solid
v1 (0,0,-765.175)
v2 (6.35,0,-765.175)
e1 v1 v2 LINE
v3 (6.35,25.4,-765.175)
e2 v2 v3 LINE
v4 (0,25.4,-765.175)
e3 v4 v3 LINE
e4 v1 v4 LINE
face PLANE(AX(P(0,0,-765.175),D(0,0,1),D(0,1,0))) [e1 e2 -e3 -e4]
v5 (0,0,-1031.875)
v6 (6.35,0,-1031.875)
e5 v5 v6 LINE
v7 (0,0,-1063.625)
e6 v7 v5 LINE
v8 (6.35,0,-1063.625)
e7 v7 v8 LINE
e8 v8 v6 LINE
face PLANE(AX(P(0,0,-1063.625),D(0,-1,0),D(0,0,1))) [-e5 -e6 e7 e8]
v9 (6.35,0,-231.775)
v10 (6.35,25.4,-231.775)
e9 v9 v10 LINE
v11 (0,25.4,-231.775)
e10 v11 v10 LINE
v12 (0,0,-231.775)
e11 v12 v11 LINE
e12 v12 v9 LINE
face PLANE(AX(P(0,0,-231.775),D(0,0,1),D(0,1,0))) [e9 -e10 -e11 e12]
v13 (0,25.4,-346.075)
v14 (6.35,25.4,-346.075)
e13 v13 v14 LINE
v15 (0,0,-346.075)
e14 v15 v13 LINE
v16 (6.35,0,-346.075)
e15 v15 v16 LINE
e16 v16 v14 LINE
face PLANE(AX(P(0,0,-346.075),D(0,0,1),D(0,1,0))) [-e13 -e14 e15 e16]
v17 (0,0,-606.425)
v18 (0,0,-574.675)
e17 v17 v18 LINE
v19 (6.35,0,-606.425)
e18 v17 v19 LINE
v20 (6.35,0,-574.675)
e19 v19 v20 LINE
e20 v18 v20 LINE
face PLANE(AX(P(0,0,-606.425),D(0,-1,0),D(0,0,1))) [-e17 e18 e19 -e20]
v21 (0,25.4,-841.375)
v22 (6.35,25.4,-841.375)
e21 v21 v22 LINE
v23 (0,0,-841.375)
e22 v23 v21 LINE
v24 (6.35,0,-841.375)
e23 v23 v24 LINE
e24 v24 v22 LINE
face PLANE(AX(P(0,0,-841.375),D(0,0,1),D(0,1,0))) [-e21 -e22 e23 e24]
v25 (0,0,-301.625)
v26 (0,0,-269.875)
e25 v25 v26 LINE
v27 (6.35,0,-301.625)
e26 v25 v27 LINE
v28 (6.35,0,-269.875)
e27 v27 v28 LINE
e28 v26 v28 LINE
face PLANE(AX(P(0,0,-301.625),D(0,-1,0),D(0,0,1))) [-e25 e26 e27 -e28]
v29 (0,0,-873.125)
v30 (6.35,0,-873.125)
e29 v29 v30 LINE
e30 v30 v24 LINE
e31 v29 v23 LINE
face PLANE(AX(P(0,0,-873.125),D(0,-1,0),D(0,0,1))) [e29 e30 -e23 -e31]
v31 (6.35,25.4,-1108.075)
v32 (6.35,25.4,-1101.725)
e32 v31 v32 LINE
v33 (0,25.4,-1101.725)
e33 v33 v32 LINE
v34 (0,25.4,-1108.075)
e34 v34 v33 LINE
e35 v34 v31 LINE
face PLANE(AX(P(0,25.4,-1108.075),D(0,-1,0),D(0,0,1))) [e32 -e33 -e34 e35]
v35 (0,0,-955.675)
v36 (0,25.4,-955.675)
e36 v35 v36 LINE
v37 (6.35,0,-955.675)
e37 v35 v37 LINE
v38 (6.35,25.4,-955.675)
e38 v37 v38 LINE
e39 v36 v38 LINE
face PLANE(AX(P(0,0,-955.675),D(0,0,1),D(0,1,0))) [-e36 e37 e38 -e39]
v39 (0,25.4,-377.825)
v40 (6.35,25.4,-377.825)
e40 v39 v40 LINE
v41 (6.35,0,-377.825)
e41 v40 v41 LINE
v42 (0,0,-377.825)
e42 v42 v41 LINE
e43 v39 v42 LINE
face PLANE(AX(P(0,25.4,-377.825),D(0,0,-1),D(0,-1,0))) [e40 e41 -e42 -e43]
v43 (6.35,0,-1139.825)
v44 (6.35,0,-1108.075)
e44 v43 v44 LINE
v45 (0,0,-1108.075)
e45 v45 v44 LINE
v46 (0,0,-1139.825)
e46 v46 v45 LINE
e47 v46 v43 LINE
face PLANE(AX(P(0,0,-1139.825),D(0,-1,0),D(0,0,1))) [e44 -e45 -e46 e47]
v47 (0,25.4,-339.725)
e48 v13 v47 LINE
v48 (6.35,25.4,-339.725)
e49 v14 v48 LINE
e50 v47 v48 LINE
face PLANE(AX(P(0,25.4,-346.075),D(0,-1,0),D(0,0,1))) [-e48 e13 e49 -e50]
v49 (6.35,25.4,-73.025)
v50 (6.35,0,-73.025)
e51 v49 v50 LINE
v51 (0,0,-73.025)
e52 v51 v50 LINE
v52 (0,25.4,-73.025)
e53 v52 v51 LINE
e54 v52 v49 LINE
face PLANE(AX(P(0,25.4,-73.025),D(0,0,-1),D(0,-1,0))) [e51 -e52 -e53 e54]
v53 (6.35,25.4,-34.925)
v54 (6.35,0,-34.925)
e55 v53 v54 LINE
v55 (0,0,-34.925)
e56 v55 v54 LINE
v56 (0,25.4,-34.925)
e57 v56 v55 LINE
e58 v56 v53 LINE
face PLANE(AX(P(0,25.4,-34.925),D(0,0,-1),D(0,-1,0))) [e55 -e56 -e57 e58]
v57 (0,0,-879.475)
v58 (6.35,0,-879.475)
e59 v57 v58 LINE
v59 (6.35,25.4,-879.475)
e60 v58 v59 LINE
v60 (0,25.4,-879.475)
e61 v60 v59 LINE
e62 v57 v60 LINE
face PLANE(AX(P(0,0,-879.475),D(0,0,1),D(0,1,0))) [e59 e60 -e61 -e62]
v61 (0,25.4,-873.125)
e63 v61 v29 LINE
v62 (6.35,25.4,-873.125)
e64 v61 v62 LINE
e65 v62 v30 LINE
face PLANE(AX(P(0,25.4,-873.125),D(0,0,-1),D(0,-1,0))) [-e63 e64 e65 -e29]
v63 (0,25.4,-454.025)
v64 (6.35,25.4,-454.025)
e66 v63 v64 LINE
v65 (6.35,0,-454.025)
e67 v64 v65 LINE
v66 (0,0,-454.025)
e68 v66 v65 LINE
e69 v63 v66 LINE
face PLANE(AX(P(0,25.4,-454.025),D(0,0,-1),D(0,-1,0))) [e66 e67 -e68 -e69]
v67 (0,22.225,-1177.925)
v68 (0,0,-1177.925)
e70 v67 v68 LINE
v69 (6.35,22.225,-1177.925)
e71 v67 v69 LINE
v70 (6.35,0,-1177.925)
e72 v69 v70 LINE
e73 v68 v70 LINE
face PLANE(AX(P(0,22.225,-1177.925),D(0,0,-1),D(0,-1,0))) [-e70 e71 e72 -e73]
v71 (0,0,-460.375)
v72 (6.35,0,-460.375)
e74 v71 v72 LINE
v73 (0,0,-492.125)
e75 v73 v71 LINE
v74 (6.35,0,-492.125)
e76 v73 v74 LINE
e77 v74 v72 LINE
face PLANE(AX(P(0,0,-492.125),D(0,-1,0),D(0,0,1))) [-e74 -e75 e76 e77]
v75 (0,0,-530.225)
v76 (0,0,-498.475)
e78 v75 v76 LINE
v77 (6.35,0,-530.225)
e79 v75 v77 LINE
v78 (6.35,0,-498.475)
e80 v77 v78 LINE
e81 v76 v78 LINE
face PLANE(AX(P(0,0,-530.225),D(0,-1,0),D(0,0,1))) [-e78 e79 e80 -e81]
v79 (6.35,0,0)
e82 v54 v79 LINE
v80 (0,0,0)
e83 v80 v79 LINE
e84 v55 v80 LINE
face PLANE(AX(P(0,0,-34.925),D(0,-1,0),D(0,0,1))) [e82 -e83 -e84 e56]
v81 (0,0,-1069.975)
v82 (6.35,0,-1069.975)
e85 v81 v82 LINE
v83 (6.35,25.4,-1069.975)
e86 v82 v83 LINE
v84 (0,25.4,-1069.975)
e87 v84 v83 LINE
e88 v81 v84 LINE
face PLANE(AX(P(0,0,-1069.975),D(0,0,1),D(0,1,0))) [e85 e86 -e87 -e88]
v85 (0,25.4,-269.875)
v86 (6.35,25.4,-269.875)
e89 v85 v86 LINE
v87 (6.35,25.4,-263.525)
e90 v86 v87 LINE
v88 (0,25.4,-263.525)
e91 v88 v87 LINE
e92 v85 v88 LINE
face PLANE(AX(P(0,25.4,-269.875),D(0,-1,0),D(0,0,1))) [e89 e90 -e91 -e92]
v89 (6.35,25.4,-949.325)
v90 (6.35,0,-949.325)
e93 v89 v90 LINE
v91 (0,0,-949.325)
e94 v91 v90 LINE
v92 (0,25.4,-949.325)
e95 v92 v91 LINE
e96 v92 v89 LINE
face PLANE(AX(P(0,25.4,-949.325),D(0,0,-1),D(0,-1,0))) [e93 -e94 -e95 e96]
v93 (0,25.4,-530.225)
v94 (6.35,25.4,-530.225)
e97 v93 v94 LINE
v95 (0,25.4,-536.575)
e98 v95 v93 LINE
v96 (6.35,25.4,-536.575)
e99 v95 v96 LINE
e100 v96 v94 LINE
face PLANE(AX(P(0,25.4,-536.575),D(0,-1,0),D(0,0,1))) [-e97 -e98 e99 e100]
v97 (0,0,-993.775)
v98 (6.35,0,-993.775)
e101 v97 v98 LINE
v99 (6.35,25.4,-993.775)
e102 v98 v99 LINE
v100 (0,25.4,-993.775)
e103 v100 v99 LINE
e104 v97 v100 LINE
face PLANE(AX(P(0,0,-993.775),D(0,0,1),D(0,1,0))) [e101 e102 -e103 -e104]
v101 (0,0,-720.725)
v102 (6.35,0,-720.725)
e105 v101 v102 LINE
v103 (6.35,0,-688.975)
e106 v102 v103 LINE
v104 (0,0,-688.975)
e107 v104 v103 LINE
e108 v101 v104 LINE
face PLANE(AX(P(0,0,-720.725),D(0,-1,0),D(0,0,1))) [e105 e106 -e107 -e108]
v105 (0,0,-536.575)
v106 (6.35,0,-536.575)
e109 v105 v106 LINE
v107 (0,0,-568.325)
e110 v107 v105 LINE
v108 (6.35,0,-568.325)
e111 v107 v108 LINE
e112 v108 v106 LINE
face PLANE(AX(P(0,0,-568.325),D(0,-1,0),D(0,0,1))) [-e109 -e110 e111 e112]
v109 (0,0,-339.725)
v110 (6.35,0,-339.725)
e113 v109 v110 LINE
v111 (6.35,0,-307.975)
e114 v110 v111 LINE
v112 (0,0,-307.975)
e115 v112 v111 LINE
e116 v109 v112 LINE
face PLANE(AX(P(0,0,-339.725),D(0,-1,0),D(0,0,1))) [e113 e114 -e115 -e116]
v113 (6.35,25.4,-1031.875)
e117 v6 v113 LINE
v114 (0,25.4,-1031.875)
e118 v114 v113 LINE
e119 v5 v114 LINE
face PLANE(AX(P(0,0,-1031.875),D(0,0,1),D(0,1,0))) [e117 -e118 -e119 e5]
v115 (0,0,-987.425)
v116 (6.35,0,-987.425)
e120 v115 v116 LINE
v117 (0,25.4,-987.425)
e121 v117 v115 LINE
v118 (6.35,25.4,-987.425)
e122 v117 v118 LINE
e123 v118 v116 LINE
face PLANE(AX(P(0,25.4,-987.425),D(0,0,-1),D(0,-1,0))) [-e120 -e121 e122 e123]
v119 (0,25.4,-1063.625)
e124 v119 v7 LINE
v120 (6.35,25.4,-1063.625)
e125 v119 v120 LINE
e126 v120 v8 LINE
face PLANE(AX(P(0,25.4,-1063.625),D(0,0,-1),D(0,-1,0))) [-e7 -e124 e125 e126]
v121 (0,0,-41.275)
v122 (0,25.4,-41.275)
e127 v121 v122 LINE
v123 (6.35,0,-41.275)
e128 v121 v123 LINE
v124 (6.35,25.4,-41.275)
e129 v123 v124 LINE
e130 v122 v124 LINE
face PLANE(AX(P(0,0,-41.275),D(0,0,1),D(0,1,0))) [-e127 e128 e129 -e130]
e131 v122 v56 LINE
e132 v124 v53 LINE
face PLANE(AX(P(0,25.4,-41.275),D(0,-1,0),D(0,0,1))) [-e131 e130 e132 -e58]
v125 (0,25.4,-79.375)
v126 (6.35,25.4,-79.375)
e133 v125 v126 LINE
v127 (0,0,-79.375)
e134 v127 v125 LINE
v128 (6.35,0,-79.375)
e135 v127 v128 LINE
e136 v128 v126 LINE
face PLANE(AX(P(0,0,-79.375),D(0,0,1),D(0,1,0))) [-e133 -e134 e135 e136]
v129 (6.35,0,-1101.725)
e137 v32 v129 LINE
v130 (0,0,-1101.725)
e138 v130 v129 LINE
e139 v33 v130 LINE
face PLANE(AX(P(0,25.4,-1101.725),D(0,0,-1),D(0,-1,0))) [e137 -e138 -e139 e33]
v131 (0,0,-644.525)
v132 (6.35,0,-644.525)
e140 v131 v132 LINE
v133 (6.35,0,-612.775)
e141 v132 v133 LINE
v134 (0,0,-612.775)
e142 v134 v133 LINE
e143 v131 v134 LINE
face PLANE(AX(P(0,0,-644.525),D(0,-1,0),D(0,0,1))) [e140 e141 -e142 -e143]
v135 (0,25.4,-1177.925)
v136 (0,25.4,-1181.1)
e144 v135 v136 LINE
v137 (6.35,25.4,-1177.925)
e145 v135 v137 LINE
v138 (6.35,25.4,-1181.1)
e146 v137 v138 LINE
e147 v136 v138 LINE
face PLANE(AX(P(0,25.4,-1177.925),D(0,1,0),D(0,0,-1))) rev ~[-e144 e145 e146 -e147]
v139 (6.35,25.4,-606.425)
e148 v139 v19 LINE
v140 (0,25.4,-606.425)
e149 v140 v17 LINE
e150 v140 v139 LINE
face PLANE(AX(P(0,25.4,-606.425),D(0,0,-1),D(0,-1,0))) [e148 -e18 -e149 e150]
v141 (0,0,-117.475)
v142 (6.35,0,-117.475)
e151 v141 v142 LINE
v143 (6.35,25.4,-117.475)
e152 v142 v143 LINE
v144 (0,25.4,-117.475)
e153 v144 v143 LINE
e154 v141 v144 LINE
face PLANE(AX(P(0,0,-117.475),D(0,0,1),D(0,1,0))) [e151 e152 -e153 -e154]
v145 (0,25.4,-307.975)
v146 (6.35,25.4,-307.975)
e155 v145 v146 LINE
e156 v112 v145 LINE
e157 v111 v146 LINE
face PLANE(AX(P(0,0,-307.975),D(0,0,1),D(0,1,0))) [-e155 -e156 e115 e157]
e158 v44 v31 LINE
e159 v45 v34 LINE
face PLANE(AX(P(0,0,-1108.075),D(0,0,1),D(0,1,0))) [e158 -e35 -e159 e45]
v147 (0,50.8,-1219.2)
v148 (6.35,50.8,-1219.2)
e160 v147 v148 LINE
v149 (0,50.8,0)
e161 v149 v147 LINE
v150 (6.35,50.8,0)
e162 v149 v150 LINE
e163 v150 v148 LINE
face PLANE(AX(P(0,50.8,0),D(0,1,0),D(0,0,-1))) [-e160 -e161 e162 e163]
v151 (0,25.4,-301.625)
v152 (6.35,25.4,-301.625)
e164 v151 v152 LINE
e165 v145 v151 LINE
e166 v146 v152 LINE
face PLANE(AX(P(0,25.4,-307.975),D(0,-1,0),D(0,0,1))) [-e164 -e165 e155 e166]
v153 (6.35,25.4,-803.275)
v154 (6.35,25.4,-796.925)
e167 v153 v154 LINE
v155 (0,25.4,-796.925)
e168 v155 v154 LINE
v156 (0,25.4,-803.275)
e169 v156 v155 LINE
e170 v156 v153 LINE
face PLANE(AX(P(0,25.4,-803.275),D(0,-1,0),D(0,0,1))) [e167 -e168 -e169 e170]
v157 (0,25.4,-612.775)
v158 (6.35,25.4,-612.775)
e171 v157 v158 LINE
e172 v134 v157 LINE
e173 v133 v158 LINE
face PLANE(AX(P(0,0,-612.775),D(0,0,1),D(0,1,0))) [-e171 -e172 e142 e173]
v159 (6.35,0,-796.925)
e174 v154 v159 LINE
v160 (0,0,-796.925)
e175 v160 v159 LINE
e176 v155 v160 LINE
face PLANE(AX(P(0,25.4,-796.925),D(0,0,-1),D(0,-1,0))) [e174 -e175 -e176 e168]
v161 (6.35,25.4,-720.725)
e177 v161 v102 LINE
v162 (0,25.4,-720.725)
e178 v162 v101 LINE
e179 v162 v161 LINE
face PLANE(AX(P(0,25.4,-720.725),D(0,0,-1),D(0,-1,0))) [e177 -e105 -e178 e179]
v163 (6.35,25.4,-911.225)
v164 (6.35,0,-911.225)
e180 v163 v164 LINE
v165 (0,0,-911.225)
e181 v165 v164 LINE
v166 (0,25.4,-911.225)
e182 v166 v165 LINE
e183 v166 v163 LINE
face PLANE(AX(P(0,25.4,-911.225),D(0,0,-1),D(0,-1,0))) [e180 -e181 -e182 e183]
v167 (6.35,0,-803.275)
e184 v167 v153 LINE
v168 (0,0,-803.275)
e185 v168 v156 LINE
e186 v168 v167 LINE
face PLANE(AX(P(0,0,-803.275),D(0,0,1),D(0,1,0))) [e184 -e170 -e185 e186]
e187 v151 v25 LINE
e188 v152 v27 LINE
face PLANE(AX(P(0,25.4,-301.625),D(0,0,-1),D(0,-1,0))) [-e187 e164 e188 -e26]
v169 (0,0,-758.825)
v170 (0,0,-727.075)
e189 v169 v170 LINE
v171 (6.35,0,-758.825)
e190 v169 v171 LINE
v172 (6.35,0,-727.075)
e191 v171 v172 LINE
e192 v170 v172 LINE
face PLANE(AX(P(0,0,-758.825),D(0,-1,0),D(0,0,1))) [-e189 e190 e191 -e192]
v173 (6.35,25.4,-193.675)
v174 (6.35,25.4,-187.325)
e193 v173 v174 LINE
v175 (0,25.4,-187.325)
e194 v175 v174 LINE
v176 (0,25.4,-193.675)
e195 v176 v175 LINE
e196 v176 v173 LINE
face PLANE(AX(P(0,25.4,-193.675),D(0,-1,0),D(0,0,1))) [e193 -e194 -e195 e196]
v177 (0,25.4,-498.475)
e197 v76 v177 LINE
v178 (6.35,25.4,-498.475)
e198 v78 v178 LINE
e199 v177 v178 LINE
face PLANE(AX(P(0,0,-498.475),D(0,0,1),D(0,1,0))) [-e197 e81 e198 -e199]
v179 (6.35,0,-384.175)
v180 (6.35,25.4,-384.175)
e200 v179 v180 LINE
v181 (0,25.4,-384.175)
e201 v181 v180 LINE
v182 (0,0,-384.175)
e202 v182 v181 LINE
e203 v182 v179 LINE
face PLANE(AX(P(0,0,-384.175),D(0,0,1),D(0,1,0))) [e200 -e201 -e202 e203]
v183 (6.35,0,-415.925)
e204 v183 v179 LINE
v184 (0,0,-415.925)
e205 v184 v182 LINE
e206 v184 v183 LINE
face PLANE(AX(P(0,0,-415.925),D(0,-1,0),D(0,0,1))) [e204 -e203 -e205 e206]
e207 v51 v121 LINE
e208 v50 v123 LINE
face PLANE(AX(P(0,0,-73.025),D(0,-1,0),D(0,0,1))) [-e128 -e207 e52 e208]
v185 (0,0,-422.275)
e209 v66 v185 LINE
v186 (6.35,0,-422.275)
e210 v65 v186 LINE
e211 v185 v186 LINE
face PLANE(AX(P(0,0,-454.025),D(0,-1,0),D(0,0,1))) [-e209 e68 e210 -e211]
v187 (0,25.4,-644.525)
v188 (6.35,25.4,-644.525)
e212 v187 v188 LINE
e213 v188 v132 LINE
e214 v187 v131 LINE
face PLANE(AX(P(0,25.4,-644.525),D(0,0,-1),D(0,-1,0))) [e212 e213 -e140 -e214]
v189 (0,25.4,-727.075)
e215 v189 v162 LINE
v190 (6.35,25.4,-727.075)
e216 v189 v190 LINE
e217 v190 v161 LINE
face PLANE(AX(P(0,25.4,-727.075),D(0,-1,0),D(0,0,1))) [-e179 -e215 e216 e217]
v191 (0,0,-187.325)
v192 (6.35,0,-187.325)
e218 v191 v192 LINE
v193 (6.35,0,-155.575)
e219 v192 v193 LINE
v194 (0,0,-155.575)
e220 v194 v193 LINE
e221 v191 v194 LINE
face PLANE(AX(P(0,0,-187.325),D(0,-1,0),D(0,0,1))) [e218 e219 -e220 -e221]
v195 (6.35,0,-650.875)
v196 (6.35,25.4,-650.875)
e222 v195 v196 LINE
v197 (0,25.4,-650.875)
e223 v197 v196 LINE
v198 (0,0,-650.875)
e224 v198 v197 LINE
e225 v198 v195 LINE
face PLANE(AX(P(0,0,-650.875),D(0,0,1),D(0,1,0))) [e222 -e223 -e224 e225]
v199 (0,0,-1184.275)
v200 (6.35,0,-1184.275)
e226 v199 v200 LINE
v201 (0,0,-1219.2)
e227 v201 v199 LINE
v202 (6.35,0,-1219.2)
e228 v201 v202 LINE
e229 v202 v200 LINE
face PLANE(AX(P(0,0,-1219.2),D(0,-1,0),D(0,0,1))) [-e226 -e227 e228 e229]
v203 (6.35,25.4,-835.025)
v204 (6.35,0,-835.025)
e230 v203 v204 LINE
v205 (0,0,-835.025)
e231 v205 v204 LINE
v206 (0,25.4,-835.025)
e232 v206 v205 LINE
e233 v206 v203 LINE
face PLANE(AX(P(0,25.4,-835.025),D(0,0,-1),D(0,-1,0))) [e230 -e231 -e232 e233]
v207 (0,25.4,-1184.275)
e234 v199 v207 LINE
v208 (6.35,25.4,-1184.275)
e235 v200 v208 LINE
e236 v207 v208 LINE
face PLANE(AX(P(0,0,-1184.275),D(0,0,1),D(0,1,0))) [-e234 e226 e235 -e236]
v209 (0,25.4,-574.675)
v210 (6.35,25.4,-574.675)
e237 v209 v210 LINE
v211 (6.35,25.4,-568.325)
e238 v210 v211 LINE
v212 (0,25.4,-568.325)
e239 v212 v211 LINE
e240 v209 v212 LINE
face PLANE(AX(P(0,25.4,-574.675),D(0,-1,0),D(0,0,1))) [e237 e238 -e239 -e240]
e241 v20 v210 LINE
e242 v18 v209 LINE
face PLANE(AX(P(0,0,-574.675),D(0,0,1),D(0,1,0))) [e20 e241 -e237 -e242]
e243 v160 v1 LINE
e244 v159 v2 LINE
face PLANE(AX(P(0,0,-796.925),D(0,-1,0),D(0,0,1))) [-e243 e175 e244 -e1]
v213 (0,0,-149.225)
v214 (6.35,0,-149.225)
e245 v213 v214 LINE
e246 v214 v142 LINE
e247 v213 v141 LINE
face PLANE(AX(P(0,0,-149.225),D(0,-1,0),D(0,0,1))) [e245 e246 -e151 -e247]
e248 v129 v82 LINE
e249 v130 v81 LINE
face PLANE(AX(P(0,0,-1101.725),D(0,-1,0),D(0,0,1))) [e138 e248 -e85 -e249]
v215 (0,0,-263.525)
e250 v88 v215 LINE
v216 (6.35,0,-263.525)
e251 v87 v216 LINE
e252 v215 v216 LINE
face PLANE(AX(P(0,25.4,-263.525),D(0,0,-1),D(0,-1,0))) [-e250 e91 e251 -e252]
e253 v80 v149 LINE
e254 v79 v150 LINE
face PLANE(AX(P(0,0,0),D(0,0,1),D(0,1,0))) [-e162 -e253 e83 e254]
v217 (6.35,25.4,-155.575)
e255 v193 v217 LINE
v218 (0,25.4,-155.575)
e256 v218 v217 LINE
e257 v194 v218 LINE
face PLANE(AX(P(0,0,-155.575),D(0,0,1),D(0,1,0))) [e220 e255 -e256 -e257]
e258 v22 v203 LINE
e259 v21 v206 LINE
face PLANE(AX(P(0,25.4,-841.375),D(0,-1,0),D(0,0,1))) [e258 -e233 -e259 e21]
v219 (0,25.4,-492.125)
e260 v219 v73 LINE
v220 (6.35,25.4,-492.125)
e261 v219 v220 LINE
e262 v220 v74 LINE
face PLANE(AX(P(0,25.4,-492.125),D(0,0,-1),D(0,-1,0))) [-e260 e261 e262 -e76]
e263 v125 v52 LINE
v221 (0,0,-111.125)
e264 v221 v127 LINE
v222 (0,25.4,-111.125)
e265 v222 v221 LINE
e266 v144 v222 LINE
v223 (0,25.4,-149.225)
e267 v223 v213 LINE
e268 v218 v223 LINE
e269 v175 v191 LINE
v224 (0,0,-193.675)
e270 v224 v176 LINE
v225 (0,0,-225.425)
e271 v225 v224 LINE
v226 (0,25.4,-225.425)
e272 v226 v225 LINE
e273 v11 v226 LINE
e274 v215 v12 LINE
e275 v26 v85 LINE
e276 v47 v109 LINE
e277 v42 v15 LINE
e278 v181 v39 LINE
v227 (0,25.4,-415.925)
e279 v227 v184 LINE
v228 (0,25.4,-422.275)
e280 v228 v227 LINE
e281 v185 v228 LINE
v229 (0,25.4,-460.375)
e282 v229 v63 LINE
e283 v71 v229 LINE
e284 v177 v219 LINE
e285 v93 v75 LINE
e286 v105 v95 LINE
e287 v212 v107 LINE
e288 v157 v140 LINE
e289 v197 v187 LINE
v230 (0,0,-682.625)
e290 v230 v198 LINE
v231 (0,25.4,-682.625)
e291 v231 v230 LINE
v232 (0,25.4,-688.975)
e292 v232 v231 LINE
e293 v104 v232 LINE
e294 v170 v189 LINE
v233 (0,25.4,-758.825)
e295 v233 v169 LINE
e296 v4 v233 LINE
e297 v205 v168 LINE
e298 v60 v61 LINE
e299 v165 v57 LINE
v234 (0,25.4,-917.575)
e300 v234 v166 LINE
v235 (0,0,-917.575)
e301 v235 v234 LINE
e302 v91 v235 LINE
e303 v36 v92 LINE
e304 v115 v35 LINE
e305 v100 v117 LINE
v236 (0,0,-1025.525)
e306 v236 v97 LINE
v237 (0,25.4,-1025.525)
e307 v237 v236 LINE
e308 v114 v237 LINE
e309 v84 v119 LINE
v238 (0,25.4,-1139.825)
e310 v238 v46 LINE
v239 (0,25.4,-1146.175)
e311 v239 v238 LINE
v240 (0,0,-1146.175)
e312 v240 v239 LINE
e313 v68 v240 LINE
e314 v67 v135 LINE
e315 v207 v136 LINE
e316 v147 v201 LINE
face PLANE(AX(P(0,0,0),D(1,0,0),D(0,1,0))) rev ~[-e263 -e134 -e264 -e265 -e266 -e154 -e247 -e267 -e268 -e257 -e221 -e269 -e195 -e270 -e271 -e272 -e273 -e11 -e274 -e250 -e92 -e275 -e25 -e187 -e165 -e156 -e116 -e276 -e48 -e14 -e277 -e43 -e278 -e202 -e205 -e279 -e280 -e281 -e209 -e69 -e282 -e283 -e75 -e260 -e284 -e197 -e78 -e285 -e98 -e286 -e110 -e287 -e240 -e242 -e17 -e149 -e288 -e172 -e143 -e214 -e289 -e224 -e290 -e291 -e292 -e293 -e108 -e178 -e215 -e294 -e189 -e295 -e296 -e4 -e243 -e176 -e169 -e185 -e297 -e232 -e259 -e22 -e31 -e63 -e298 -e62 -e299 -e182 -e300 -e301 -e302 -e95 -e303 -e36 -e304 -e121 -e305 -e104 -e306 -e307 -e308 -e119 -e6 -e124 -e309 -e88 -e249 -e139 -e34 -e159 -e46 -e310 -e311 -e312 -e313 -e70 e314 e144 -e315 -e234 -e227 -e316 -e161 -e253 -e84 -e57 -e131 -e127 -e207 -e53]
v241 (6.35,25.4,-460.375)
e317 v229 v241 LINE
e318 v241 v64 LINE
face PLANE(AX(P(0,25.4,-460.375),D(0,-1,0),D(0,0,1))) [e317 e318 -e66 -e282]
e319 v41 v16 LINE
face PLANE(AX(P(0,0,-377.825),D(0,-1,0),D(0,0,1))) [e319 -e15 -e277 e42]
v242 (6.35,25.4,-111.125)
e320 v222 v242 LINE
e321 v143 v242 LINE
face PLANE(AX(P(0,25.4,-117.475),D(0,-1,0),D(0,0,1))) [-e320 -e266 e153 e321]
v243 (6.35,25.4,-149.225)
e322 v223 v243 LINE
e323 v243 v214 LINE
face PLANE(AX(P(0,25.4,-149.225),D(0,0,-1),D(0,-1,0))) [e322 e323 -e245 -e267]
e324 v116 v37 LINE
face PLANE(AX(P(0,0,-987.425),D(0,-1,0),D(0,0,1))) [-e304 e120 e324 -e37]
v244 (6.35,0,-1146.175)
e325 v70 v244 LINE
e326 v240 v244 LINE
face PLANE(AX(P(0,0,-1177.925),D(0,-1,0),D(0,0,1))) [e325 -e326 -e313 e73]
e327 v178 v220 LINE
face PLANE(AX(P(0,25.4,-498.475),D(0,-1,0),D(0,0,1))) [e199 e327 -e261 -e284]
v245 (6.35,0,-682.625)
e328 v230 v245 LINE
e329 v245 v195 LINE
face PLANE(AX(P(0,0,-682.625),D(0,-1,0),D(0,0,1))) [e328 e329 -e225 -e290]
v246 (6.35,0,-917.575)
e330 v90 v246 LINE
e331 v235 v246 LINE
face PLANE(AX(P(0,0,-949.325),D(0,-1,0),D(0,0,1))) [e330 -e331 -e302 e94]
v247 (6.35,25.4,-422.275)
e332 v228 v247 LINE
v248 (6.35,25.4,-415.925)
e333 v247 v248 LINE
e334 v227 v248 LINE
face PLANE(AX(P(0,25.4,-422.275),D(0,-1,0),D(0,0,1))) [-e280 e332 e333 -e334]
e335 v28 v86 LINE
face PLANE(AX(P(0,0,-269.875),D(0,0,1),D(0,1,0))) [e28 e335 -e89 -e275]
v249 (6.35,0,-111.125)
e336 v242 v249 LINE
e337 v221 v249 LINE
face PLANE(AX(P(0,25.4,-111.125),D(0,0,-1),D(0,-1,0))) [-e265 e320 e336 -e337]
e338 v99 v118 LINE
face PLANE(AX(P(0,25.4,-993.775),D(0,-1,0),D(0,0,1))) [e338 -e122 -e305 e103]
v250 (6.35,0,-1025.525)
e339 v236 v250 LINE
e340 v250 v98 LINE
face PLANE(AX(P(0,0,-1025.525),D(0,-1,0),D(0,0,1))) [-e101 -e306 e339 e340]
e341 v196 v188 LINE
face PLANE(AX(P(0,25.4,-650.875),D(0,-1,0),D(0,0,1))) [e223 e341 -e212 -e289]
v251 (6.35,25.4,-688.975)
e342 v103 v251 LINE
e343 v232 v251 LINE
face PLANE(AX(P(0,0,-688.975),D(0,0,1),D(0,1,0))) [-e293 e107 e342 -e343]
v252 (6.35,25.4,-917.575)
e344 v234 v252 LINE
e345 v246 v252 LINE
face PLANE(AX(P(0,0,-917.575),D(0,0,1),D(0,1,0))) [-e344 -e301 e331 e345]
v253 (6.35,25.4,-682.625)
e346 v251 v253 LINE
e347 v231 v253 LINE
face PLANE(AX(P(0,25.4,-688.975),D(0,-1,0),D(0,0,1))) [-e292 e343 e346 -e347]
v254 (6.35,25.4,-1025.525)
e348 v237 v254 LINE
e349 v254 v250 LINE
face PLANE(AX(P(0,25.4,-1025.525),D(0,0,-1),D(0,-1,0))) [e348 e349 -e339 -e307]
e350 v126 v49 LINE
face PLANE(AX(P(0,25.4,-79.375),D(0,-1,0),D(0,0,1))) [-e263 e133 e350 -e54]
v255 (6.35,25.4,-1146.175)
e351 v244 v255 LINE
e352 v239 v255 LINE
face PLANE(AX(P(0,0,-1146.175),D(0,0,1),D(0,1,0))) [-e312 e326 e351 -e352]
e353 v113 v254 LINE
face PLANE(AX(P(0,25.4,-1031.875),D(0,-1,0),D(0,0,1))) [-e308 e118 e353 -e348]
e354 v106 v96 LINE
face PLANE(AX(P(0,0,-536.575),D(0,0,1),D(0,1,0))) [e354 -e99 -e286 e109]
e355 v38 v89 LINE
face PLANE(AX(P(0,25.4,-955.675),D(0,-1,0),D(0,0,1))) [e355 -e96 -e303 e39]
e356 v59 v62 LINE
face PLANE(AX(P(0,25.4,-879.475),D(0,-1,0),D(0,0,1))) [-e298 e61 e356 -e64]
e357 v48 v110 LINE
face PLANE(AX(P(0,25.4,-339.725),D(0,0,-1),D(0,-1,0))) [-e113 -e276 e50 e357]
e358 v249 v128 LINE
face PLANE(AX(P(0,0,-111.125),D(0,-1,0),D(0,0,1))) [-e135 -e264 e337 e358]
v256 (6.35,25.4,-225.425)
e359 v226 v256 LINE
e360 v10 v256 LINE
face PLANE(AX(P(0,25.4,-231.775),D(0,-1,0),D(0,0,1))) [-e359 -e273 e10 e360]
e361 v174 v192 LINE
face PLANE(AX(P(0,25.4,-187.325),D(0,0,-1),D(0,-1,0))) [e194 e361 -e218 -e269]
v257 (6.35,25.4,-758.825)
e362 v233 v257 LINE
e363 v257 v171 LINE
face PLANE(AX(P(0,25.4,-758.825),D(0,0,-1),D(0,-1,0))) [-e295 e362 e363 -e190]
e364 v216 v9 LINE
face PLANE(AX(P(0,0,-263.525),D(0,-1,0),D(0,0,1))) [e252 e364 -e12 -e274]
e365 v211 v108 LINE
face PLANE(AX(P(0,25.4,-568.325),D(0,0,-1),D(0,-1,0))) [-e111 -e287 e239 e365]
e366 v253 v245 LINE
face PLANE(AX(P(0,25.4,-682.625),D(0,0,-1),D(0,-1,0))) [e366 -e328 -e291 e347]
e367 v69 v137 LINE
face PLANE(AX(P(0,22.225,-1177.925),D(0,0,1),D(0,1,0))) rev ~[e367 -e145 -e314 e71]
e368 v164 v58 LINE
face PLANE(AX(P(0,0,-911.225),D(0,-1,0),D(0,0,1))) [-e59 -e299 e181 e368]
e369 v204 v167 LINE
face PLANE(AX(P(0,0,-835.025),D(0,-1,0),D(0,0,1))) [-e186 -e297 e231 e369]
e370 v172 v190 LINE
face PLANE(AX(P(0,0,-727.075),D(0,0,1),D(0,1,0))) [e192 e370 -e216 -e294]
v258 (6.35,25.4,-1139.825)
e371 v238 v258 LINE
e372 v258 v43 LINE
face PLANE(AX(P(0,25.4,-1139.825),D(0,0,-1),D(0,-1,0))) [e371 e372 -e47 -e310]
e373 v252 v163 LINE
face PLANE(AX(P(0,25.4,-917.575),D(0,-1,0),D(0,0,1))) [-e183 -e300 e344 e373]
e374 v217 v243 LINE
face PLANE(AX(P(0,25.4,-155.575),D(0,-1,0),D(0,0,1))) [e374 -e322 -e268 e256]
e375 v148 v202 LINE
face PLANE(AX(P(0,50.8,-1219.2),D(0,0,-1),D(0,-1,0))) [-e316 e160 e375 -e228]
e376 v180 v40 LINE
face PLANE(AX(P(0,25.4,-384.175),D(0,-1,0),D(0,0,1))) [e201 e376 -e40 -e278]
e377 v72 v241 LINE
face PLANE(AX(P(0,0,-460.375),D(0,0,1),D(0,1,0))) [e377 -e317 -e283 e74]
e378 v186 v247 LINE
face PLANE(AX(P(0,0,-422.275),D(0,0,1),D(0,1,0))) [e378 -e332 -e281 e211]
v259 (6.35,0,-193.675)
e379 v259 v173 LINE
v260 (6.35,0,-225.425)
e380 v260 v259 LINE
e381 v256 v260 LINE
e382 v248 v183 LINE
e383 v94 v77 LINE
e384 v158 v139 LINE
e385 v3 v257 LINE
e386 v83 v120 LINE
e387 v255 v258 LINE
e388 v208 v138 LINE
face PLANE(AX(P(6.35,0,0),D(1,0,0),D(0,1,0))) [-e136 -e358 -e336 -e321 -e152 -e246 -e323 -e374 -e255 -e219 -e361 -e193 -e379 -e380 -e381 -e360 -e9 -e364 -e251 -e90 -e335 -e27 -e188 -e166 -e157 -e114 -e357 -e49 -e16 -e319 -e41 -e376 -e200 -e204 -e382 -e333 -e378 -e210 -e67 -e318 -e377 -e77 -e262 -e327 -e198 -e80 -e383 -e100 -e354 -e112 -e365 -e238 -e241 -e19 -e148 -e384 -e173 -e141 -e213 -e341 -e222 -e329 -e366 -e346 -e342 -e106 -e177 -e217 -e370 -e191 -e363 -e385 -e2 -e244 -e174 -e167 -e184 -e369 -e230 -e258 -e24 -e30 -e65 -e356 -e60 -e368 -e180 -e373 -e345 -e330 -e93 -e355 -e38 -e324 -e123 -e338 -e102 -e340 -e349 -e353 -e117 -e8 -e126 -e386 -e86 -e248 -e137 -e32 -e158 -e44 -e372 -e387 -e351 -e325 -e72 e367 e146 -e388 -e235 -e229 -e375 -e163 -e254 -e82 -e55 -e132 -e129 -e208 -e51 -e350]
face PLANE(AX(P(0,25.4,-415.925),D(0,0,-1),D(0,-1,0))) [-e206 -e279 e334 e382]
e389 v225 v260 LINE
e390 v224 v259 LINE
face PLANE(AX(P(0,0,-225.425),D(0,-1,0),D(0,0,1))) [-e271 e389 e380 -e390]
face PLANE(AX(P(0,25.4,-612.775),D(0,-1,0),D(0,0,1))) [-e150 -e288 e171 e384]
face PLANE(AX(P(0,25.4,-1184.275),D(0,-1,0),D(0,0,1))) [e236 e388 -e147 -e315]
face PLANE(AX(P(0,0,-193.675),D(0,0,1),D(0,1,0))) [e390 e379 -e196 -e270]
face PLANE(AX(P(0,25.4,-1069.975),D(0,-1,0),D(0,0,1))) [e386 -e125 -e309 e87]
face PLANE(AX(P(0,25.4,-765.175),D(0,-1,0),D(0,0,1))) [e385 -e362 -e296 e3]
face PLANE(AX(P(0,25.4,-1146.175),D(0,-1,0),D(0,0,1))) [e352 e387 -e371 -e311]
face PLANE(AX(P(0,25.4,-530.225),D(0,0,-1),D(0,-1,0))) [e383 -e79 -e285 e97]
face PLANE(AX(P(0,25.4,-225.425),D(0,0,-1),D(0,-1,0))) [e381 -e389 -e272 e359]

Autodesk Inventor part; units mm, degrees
ref_plane "YZ Plane" through (0, 0, 0) normal (1, 0, 0) x (0, 1, 0)
ref_plane "XZ Plane" through (0, 0, 0) normal (0, 1, 0) x (-1, 0, 0)
ref_plane "XY Plane" through (0, 0, 0) normal (0, 0, 1) x (1, 0, 0)
sketch "Sketch1" plane through (0, 0, 0) normal (1, 0, 0) x (0, 1, 0)
  line L0 (0, 0) -> (50.8, 0)
  line L1 (50.8, 0) -> (50.8, -1219.2)
  line L2 (50.8, -1219.2) -> (0, -1219.2)
  line L3 (0, -1219.2) -> (0, -1184.275)
  line L4 (0, -1184.275) -> (25.4, -1184.275)
  line L5 (25.4, -1184.275) -> (25.4, -1181.1)
  line L6 (22.225, -1177.925) -> (0, -1177.925)
  line L7 (0, -1177.925) -> (0, -1146.175)
  line L8 (0, -1146.175) -> (25.4, -1146.175)
  line L9 (25.4, -1146.175) -> (25.4, -1139.825)
  line L10 (25.4, -1139.825) -> (0, -1139.825)
  line L11 (0, -1139.825) -> (0, -1108.075)
  line L12 (0, -1108.075) -> (25.4, -1108.075)
  line L13 (25.4, -1108.075) -> (25.4, -1101.725)
  line L14 (25.4, -1101.725) -> (0, -1101.725)
  line L15 (0, -1101.725) -> (0, -1069.975)
  line L16 (0, -1069.975) -> (25.4, -1069.975)
  line L17 (25.4, -1069.975) -> (25.4, -1063.625)
  line L18 (25.4, -1063.625) -> (0, -1063.625)
  line L19 (0, -1063.625) -> (0, -1031.875)
  line L20 (0, -1031.875) -> (25.4, -1031.875)
  line L21 (25.4, -1031.875) -> (25.4, -1025.525)
  line L22 (25.4, -1025.525) -> (0, -1025.525)
  line L23 (0, -1025.525) -> (0, -993.775)
  line L24 (0, -993.775) -> (25.4, -993.775)
  line L25 (25.4, -993.775) -> (25.4, -987.425)
  line L26 (25.4, -987.425) -> (0, -987.425)
  line L27 (0, -987.425) -> (0, -955.675)
  line L28 (0, -955.675) -> (25.4, -955.675)
  line L29 (25.4, -955.675) -> (25.4, -949.325)
  line L30 (25.4, -949.325) -> (0, -949.325)
  line L31 (0, -949.325) -> (0, -917.575)
  line L32 (0, -917.575) -> (25.4, -917.575)
  line L33 (25.4, -917.575) -> (25.4, -911.225)
  line L34 (25.4, -911.225) -> (0, -911.225)
  line L35 (0, -911.225) -> (0, -879.475)
  line L36 (0, -879.475) -> (25.4, -879.475)
  line L37 (25.4, -879.475) -> (25.4, -873.125)
  line L38 (25.4, -873.125) -> (0, -873.125)
  line L39 (0, -873.125) -> (0, -841.375)
  line L40 (0, -841.375) -> (25.4, -841.375)
  line L41 (25.4, -841.375) -> (25.4, -835.025)
  line L42 (25.4, -835.025) -> (0, -835.025)
  line L43 (0, -835.025) -> (0, -803.275)
  line L44 (0, -803.275) -> (25.4, -803.275)
  line L45 (25.4, -803.275) -> (25.4, -796.925)
  line L46 (25.4, -796.925) -> (0, -796.925)
  line L47 (0, -796.925) -> (0, -765.175)
  line L48 (0, -765.175) -> (25.4, -765.175)
  line L49 (25.4, -765.175) -> (25.4, -758.825)
  line L50 (25.4, -758.825) -> (0, -758.825)
  line L51 (0, -758.825) -> (0, -727.075)
  line L52 (0, -727.075) -> (25.4, -727.075)
  line L53 (25.4, -727.075) -> (25.4, -720.725)
  line L54 (25.4, -720.725) -> (0, -720.725)
  line L55 (0, -720.725) -> (0, -688.975)
  line L56 (0, -688.975) -> (25.4, -688.975)
  line L57 (25.4, -688.975) -> (25.4, -682.625)
  line L58 (25.4, -682.625) -> (0, -682.625)
  line L59 (0, -682.625) -> (0, -650.875)
  line L60 (0, -650.875) -> (25.4, -650.875)
  line L61 (25.4, -650.875) -> (25.4, -644.525)
  line L62 (25.4, -644.525) -> (0, -644.525)
  line L63 (0, -644.525) -> (0, -612.775)
  line L64 (0, -612.775) -> (25.4, -612.775)
  line L65 (25.4, -612.775) -> (25.4, -606.425)
  line L66 (25.4, -606.425) -> (0, -606.425)
  line L67 (0, -606.425) -> (0, -574.675)
  line L68 (0, -574.675) -> (25.4, -574.675)
  line L69 (25.4, -574.675) -> (25.4, -568.325)
  line L70 (25.4, -568.325) -> (0, -568.325)
  line L71 (0, -568.325) -> (0, -536.575)
  line L72 (0, -536.575) -> (25.4, -536.575)
  line L73 (25.4, -536.575) -> (25.4, -530.225)
  line L74 (25.4, -530.225) -> (0, -530.225)
  line L75 (0, -530.225) -> (0, -498.475)
  line L76 (0, -498.475) -> (25.4, -498.475)
  line L77 (25.4, -498.475) -> (25.4, -492.125)
  line L78 (25.4, -492.125) -> (0, -492.125)
  line L79 (0, -492.125) -> (0, -460.375)
  line L80 (0, -460.375) -> (25.4, -460.375)
  line L81 (25.4, -460.375) -> (25.4, -454.025)
  line L82 (25.4, -454.025) -> (0, -454.025)
  line L83 (0, -454.025) -> (0, -422.275)
  line L84 (0, -422.275) -> (25.4, -422.275)
  line L85 (25.4, -422.275) -> (25.4, -415.925)
  line L86 (25.4, -415.925) -> (0, -415.925)
  line L87 (0, -415.925) -> (0, -384.175)
  line L88 (0, -384.175) -> (25.4, -384.175)
  line L89 (25.4, -384.175) -> (25.4, -377.825)
  line L90 (25.4, -377.825) -> (0, -377.825)
  line L91 (0, -377.825) -> (0, -346.075)
  line L92 (0, -346.075) -> (25.4, -346.075)
  line L93 (25.4, -346.075) -> (25.4, -339.725)
  line L94 (25.4, -339.725) -> (0, -339.725)
  line L95 (0, -339.725) -> (0, -307.975)
  line L96 (0, -307.975) -> (25.4, -307.975)
  line L97 (25.4, -307.975) -> (25.4, -301.625)
  line L98 (25.4, -301.625) -> (0, -301.625)
  line L99 (0, -301.625) -> (0, -269.875)
  line L100 (0, -269.875) -> (25.4, -269.875)
  line L101 (25.4, -269.875) -> (25.4, -263.525)
  line L102 (25.4, -263.525) -> (0, -263.525)
  line L103 (0, -263.525) -> (0, -231.775)
  line L104 (0, -231.775) -> (25.4, -231.775)
  line L105 (25.4, -231.775) -> (25.4, -225.425)
  line L106 (25.4, -225.425) -> (0, -225.425)
  line L107 (0, -225.425) -> (0, -193.675)
  line L108 (0, -193.675) -> (25.4, -193.675)
  line L109 (25.4, -193.675) -> (25.4, -187.325)
  line L110 (25.4, -187.325) -> (0, -187.325)
  line L111 (0, -187.325) -> (0, -155.575)
  line L112 (0, -155.575) -> (25.4, -155.575)
  line L113 (25.4, -155.575) -> (25.4, -149.225)
  line L114 (25.4, -149.225) -> (0, -149.225)
  line L115 (0, -149.225) -> (0, -117.475)
  line L116 (0, -117.475) -> (25.4, -117.475)
  line L117 (25.4, -117.475) -> (25.4, -111.125)
  line L118 (25.4, -111.125) -> (0, -111.125)
  line L119 (0, -111.125) -> (0, -79.375)
  line L120 (0, -79.375) -> (25.4, -79.375)
  line L121 (25.4, -79.375) -> (25.4, -73.025)
  line L122 (25.4, -73.025) -> (0, -73.025)
  line L123 (0, -73.025) -> (0, -41.275)
  line L124 (0, -41.275) -> (25.4, -41.275)
  line L125 (25.4, -41.275) -> (25.4, -34.925)
  line L126 (25.4, -34.925) -> (0, -34.925)
  line L127 (0, -34.925) -> (0, 0)
  line L128 (22.225, -1177.925) -> (25.4, -1177.925)
  line L129 (25.4, -1177.925) -> (25.4, -1181.1)
  dimension "d209" = 25.4
  dimension "d210" = 25.4
  dimension "d211" = 25.4
  dimension "d212" = 25.4
  dimension "d213" = 25.4
  dimension "d214" = 25.4
  dimension "d215" = 25.4
  dimension "d216" = 25.4
  dimension "d217" = 25.4
  dimension "d218" = 25.4
  dimension "d219" = 25.4
  dimension "d220" = 25.4
  dimension "d221" = 25.4
  dimension "d222" = 25.4
  dimension "d223" = 25.4
  dimension "d224" = 25.4
  dimension "d225" = 50.8
  dimension "d226" = 1219.2
  dimension "d227" = 1177.925
  dimension "d228" = 34.925
  dimension "d229" = 41.275
  dimension "d230" = 73.025
  dimension "d231" = 79.375
  dimension "d232" = 111.125
  dimension "d233" = 117.475
  dimension "d234" = 149.225
  dimension "d235" = 155.575
  dimension "d236" = 187.325
  dimension "d237" = 193.675
  dimension "d238" = 225.425
  dimension "d239" = 231.775
  dimension "d240" = 263.525
  dimension "d241" = 269.875
  dimension "d242" = 301.625
  dimension "d243" = 307.975
  dimension "d244" = 339.725
  dimension "d245" = 346.075
  dimension "d246" = 377.825
  dimension "d247" = 384.175
  dimension "d248" = 415.925
  dimension "d249" = 422.275
  dimension "d250" = 454.025
  dimension "d251" = 460.375
  dimension "d252" = 492.125
  dimension "d253" = 498.475
  dimension "d254" = 530.225
  dimension "d255" = 536.575
  dimension "d256" = 568.325
  dimension "d257" = 574.675
  dimension "d258" = 606.425
  dimension "d259" = 612.775
  dimension "d260" = 644.525
  dimension "d261" = 650.875
  dimension "d262" = 682.625
  dimension "d263" = 688.975
  dimension "d264" = 720.725
  dimension "d265" = 727.075
  dimension "d266" = 758.825
  dimension "d267" = 765.175
  dimension "d268" = 796.925
  dimension "d269" = 803.275
  dimension "d270" = 835.025
  dimension "d271" = 841.375
  dimension "d272" = 873.125
extrude "Extrusion1" add sketch "Sketch1" along normal blind 6.35
properties part number "DividerLength" material "Wood (Birch)"
